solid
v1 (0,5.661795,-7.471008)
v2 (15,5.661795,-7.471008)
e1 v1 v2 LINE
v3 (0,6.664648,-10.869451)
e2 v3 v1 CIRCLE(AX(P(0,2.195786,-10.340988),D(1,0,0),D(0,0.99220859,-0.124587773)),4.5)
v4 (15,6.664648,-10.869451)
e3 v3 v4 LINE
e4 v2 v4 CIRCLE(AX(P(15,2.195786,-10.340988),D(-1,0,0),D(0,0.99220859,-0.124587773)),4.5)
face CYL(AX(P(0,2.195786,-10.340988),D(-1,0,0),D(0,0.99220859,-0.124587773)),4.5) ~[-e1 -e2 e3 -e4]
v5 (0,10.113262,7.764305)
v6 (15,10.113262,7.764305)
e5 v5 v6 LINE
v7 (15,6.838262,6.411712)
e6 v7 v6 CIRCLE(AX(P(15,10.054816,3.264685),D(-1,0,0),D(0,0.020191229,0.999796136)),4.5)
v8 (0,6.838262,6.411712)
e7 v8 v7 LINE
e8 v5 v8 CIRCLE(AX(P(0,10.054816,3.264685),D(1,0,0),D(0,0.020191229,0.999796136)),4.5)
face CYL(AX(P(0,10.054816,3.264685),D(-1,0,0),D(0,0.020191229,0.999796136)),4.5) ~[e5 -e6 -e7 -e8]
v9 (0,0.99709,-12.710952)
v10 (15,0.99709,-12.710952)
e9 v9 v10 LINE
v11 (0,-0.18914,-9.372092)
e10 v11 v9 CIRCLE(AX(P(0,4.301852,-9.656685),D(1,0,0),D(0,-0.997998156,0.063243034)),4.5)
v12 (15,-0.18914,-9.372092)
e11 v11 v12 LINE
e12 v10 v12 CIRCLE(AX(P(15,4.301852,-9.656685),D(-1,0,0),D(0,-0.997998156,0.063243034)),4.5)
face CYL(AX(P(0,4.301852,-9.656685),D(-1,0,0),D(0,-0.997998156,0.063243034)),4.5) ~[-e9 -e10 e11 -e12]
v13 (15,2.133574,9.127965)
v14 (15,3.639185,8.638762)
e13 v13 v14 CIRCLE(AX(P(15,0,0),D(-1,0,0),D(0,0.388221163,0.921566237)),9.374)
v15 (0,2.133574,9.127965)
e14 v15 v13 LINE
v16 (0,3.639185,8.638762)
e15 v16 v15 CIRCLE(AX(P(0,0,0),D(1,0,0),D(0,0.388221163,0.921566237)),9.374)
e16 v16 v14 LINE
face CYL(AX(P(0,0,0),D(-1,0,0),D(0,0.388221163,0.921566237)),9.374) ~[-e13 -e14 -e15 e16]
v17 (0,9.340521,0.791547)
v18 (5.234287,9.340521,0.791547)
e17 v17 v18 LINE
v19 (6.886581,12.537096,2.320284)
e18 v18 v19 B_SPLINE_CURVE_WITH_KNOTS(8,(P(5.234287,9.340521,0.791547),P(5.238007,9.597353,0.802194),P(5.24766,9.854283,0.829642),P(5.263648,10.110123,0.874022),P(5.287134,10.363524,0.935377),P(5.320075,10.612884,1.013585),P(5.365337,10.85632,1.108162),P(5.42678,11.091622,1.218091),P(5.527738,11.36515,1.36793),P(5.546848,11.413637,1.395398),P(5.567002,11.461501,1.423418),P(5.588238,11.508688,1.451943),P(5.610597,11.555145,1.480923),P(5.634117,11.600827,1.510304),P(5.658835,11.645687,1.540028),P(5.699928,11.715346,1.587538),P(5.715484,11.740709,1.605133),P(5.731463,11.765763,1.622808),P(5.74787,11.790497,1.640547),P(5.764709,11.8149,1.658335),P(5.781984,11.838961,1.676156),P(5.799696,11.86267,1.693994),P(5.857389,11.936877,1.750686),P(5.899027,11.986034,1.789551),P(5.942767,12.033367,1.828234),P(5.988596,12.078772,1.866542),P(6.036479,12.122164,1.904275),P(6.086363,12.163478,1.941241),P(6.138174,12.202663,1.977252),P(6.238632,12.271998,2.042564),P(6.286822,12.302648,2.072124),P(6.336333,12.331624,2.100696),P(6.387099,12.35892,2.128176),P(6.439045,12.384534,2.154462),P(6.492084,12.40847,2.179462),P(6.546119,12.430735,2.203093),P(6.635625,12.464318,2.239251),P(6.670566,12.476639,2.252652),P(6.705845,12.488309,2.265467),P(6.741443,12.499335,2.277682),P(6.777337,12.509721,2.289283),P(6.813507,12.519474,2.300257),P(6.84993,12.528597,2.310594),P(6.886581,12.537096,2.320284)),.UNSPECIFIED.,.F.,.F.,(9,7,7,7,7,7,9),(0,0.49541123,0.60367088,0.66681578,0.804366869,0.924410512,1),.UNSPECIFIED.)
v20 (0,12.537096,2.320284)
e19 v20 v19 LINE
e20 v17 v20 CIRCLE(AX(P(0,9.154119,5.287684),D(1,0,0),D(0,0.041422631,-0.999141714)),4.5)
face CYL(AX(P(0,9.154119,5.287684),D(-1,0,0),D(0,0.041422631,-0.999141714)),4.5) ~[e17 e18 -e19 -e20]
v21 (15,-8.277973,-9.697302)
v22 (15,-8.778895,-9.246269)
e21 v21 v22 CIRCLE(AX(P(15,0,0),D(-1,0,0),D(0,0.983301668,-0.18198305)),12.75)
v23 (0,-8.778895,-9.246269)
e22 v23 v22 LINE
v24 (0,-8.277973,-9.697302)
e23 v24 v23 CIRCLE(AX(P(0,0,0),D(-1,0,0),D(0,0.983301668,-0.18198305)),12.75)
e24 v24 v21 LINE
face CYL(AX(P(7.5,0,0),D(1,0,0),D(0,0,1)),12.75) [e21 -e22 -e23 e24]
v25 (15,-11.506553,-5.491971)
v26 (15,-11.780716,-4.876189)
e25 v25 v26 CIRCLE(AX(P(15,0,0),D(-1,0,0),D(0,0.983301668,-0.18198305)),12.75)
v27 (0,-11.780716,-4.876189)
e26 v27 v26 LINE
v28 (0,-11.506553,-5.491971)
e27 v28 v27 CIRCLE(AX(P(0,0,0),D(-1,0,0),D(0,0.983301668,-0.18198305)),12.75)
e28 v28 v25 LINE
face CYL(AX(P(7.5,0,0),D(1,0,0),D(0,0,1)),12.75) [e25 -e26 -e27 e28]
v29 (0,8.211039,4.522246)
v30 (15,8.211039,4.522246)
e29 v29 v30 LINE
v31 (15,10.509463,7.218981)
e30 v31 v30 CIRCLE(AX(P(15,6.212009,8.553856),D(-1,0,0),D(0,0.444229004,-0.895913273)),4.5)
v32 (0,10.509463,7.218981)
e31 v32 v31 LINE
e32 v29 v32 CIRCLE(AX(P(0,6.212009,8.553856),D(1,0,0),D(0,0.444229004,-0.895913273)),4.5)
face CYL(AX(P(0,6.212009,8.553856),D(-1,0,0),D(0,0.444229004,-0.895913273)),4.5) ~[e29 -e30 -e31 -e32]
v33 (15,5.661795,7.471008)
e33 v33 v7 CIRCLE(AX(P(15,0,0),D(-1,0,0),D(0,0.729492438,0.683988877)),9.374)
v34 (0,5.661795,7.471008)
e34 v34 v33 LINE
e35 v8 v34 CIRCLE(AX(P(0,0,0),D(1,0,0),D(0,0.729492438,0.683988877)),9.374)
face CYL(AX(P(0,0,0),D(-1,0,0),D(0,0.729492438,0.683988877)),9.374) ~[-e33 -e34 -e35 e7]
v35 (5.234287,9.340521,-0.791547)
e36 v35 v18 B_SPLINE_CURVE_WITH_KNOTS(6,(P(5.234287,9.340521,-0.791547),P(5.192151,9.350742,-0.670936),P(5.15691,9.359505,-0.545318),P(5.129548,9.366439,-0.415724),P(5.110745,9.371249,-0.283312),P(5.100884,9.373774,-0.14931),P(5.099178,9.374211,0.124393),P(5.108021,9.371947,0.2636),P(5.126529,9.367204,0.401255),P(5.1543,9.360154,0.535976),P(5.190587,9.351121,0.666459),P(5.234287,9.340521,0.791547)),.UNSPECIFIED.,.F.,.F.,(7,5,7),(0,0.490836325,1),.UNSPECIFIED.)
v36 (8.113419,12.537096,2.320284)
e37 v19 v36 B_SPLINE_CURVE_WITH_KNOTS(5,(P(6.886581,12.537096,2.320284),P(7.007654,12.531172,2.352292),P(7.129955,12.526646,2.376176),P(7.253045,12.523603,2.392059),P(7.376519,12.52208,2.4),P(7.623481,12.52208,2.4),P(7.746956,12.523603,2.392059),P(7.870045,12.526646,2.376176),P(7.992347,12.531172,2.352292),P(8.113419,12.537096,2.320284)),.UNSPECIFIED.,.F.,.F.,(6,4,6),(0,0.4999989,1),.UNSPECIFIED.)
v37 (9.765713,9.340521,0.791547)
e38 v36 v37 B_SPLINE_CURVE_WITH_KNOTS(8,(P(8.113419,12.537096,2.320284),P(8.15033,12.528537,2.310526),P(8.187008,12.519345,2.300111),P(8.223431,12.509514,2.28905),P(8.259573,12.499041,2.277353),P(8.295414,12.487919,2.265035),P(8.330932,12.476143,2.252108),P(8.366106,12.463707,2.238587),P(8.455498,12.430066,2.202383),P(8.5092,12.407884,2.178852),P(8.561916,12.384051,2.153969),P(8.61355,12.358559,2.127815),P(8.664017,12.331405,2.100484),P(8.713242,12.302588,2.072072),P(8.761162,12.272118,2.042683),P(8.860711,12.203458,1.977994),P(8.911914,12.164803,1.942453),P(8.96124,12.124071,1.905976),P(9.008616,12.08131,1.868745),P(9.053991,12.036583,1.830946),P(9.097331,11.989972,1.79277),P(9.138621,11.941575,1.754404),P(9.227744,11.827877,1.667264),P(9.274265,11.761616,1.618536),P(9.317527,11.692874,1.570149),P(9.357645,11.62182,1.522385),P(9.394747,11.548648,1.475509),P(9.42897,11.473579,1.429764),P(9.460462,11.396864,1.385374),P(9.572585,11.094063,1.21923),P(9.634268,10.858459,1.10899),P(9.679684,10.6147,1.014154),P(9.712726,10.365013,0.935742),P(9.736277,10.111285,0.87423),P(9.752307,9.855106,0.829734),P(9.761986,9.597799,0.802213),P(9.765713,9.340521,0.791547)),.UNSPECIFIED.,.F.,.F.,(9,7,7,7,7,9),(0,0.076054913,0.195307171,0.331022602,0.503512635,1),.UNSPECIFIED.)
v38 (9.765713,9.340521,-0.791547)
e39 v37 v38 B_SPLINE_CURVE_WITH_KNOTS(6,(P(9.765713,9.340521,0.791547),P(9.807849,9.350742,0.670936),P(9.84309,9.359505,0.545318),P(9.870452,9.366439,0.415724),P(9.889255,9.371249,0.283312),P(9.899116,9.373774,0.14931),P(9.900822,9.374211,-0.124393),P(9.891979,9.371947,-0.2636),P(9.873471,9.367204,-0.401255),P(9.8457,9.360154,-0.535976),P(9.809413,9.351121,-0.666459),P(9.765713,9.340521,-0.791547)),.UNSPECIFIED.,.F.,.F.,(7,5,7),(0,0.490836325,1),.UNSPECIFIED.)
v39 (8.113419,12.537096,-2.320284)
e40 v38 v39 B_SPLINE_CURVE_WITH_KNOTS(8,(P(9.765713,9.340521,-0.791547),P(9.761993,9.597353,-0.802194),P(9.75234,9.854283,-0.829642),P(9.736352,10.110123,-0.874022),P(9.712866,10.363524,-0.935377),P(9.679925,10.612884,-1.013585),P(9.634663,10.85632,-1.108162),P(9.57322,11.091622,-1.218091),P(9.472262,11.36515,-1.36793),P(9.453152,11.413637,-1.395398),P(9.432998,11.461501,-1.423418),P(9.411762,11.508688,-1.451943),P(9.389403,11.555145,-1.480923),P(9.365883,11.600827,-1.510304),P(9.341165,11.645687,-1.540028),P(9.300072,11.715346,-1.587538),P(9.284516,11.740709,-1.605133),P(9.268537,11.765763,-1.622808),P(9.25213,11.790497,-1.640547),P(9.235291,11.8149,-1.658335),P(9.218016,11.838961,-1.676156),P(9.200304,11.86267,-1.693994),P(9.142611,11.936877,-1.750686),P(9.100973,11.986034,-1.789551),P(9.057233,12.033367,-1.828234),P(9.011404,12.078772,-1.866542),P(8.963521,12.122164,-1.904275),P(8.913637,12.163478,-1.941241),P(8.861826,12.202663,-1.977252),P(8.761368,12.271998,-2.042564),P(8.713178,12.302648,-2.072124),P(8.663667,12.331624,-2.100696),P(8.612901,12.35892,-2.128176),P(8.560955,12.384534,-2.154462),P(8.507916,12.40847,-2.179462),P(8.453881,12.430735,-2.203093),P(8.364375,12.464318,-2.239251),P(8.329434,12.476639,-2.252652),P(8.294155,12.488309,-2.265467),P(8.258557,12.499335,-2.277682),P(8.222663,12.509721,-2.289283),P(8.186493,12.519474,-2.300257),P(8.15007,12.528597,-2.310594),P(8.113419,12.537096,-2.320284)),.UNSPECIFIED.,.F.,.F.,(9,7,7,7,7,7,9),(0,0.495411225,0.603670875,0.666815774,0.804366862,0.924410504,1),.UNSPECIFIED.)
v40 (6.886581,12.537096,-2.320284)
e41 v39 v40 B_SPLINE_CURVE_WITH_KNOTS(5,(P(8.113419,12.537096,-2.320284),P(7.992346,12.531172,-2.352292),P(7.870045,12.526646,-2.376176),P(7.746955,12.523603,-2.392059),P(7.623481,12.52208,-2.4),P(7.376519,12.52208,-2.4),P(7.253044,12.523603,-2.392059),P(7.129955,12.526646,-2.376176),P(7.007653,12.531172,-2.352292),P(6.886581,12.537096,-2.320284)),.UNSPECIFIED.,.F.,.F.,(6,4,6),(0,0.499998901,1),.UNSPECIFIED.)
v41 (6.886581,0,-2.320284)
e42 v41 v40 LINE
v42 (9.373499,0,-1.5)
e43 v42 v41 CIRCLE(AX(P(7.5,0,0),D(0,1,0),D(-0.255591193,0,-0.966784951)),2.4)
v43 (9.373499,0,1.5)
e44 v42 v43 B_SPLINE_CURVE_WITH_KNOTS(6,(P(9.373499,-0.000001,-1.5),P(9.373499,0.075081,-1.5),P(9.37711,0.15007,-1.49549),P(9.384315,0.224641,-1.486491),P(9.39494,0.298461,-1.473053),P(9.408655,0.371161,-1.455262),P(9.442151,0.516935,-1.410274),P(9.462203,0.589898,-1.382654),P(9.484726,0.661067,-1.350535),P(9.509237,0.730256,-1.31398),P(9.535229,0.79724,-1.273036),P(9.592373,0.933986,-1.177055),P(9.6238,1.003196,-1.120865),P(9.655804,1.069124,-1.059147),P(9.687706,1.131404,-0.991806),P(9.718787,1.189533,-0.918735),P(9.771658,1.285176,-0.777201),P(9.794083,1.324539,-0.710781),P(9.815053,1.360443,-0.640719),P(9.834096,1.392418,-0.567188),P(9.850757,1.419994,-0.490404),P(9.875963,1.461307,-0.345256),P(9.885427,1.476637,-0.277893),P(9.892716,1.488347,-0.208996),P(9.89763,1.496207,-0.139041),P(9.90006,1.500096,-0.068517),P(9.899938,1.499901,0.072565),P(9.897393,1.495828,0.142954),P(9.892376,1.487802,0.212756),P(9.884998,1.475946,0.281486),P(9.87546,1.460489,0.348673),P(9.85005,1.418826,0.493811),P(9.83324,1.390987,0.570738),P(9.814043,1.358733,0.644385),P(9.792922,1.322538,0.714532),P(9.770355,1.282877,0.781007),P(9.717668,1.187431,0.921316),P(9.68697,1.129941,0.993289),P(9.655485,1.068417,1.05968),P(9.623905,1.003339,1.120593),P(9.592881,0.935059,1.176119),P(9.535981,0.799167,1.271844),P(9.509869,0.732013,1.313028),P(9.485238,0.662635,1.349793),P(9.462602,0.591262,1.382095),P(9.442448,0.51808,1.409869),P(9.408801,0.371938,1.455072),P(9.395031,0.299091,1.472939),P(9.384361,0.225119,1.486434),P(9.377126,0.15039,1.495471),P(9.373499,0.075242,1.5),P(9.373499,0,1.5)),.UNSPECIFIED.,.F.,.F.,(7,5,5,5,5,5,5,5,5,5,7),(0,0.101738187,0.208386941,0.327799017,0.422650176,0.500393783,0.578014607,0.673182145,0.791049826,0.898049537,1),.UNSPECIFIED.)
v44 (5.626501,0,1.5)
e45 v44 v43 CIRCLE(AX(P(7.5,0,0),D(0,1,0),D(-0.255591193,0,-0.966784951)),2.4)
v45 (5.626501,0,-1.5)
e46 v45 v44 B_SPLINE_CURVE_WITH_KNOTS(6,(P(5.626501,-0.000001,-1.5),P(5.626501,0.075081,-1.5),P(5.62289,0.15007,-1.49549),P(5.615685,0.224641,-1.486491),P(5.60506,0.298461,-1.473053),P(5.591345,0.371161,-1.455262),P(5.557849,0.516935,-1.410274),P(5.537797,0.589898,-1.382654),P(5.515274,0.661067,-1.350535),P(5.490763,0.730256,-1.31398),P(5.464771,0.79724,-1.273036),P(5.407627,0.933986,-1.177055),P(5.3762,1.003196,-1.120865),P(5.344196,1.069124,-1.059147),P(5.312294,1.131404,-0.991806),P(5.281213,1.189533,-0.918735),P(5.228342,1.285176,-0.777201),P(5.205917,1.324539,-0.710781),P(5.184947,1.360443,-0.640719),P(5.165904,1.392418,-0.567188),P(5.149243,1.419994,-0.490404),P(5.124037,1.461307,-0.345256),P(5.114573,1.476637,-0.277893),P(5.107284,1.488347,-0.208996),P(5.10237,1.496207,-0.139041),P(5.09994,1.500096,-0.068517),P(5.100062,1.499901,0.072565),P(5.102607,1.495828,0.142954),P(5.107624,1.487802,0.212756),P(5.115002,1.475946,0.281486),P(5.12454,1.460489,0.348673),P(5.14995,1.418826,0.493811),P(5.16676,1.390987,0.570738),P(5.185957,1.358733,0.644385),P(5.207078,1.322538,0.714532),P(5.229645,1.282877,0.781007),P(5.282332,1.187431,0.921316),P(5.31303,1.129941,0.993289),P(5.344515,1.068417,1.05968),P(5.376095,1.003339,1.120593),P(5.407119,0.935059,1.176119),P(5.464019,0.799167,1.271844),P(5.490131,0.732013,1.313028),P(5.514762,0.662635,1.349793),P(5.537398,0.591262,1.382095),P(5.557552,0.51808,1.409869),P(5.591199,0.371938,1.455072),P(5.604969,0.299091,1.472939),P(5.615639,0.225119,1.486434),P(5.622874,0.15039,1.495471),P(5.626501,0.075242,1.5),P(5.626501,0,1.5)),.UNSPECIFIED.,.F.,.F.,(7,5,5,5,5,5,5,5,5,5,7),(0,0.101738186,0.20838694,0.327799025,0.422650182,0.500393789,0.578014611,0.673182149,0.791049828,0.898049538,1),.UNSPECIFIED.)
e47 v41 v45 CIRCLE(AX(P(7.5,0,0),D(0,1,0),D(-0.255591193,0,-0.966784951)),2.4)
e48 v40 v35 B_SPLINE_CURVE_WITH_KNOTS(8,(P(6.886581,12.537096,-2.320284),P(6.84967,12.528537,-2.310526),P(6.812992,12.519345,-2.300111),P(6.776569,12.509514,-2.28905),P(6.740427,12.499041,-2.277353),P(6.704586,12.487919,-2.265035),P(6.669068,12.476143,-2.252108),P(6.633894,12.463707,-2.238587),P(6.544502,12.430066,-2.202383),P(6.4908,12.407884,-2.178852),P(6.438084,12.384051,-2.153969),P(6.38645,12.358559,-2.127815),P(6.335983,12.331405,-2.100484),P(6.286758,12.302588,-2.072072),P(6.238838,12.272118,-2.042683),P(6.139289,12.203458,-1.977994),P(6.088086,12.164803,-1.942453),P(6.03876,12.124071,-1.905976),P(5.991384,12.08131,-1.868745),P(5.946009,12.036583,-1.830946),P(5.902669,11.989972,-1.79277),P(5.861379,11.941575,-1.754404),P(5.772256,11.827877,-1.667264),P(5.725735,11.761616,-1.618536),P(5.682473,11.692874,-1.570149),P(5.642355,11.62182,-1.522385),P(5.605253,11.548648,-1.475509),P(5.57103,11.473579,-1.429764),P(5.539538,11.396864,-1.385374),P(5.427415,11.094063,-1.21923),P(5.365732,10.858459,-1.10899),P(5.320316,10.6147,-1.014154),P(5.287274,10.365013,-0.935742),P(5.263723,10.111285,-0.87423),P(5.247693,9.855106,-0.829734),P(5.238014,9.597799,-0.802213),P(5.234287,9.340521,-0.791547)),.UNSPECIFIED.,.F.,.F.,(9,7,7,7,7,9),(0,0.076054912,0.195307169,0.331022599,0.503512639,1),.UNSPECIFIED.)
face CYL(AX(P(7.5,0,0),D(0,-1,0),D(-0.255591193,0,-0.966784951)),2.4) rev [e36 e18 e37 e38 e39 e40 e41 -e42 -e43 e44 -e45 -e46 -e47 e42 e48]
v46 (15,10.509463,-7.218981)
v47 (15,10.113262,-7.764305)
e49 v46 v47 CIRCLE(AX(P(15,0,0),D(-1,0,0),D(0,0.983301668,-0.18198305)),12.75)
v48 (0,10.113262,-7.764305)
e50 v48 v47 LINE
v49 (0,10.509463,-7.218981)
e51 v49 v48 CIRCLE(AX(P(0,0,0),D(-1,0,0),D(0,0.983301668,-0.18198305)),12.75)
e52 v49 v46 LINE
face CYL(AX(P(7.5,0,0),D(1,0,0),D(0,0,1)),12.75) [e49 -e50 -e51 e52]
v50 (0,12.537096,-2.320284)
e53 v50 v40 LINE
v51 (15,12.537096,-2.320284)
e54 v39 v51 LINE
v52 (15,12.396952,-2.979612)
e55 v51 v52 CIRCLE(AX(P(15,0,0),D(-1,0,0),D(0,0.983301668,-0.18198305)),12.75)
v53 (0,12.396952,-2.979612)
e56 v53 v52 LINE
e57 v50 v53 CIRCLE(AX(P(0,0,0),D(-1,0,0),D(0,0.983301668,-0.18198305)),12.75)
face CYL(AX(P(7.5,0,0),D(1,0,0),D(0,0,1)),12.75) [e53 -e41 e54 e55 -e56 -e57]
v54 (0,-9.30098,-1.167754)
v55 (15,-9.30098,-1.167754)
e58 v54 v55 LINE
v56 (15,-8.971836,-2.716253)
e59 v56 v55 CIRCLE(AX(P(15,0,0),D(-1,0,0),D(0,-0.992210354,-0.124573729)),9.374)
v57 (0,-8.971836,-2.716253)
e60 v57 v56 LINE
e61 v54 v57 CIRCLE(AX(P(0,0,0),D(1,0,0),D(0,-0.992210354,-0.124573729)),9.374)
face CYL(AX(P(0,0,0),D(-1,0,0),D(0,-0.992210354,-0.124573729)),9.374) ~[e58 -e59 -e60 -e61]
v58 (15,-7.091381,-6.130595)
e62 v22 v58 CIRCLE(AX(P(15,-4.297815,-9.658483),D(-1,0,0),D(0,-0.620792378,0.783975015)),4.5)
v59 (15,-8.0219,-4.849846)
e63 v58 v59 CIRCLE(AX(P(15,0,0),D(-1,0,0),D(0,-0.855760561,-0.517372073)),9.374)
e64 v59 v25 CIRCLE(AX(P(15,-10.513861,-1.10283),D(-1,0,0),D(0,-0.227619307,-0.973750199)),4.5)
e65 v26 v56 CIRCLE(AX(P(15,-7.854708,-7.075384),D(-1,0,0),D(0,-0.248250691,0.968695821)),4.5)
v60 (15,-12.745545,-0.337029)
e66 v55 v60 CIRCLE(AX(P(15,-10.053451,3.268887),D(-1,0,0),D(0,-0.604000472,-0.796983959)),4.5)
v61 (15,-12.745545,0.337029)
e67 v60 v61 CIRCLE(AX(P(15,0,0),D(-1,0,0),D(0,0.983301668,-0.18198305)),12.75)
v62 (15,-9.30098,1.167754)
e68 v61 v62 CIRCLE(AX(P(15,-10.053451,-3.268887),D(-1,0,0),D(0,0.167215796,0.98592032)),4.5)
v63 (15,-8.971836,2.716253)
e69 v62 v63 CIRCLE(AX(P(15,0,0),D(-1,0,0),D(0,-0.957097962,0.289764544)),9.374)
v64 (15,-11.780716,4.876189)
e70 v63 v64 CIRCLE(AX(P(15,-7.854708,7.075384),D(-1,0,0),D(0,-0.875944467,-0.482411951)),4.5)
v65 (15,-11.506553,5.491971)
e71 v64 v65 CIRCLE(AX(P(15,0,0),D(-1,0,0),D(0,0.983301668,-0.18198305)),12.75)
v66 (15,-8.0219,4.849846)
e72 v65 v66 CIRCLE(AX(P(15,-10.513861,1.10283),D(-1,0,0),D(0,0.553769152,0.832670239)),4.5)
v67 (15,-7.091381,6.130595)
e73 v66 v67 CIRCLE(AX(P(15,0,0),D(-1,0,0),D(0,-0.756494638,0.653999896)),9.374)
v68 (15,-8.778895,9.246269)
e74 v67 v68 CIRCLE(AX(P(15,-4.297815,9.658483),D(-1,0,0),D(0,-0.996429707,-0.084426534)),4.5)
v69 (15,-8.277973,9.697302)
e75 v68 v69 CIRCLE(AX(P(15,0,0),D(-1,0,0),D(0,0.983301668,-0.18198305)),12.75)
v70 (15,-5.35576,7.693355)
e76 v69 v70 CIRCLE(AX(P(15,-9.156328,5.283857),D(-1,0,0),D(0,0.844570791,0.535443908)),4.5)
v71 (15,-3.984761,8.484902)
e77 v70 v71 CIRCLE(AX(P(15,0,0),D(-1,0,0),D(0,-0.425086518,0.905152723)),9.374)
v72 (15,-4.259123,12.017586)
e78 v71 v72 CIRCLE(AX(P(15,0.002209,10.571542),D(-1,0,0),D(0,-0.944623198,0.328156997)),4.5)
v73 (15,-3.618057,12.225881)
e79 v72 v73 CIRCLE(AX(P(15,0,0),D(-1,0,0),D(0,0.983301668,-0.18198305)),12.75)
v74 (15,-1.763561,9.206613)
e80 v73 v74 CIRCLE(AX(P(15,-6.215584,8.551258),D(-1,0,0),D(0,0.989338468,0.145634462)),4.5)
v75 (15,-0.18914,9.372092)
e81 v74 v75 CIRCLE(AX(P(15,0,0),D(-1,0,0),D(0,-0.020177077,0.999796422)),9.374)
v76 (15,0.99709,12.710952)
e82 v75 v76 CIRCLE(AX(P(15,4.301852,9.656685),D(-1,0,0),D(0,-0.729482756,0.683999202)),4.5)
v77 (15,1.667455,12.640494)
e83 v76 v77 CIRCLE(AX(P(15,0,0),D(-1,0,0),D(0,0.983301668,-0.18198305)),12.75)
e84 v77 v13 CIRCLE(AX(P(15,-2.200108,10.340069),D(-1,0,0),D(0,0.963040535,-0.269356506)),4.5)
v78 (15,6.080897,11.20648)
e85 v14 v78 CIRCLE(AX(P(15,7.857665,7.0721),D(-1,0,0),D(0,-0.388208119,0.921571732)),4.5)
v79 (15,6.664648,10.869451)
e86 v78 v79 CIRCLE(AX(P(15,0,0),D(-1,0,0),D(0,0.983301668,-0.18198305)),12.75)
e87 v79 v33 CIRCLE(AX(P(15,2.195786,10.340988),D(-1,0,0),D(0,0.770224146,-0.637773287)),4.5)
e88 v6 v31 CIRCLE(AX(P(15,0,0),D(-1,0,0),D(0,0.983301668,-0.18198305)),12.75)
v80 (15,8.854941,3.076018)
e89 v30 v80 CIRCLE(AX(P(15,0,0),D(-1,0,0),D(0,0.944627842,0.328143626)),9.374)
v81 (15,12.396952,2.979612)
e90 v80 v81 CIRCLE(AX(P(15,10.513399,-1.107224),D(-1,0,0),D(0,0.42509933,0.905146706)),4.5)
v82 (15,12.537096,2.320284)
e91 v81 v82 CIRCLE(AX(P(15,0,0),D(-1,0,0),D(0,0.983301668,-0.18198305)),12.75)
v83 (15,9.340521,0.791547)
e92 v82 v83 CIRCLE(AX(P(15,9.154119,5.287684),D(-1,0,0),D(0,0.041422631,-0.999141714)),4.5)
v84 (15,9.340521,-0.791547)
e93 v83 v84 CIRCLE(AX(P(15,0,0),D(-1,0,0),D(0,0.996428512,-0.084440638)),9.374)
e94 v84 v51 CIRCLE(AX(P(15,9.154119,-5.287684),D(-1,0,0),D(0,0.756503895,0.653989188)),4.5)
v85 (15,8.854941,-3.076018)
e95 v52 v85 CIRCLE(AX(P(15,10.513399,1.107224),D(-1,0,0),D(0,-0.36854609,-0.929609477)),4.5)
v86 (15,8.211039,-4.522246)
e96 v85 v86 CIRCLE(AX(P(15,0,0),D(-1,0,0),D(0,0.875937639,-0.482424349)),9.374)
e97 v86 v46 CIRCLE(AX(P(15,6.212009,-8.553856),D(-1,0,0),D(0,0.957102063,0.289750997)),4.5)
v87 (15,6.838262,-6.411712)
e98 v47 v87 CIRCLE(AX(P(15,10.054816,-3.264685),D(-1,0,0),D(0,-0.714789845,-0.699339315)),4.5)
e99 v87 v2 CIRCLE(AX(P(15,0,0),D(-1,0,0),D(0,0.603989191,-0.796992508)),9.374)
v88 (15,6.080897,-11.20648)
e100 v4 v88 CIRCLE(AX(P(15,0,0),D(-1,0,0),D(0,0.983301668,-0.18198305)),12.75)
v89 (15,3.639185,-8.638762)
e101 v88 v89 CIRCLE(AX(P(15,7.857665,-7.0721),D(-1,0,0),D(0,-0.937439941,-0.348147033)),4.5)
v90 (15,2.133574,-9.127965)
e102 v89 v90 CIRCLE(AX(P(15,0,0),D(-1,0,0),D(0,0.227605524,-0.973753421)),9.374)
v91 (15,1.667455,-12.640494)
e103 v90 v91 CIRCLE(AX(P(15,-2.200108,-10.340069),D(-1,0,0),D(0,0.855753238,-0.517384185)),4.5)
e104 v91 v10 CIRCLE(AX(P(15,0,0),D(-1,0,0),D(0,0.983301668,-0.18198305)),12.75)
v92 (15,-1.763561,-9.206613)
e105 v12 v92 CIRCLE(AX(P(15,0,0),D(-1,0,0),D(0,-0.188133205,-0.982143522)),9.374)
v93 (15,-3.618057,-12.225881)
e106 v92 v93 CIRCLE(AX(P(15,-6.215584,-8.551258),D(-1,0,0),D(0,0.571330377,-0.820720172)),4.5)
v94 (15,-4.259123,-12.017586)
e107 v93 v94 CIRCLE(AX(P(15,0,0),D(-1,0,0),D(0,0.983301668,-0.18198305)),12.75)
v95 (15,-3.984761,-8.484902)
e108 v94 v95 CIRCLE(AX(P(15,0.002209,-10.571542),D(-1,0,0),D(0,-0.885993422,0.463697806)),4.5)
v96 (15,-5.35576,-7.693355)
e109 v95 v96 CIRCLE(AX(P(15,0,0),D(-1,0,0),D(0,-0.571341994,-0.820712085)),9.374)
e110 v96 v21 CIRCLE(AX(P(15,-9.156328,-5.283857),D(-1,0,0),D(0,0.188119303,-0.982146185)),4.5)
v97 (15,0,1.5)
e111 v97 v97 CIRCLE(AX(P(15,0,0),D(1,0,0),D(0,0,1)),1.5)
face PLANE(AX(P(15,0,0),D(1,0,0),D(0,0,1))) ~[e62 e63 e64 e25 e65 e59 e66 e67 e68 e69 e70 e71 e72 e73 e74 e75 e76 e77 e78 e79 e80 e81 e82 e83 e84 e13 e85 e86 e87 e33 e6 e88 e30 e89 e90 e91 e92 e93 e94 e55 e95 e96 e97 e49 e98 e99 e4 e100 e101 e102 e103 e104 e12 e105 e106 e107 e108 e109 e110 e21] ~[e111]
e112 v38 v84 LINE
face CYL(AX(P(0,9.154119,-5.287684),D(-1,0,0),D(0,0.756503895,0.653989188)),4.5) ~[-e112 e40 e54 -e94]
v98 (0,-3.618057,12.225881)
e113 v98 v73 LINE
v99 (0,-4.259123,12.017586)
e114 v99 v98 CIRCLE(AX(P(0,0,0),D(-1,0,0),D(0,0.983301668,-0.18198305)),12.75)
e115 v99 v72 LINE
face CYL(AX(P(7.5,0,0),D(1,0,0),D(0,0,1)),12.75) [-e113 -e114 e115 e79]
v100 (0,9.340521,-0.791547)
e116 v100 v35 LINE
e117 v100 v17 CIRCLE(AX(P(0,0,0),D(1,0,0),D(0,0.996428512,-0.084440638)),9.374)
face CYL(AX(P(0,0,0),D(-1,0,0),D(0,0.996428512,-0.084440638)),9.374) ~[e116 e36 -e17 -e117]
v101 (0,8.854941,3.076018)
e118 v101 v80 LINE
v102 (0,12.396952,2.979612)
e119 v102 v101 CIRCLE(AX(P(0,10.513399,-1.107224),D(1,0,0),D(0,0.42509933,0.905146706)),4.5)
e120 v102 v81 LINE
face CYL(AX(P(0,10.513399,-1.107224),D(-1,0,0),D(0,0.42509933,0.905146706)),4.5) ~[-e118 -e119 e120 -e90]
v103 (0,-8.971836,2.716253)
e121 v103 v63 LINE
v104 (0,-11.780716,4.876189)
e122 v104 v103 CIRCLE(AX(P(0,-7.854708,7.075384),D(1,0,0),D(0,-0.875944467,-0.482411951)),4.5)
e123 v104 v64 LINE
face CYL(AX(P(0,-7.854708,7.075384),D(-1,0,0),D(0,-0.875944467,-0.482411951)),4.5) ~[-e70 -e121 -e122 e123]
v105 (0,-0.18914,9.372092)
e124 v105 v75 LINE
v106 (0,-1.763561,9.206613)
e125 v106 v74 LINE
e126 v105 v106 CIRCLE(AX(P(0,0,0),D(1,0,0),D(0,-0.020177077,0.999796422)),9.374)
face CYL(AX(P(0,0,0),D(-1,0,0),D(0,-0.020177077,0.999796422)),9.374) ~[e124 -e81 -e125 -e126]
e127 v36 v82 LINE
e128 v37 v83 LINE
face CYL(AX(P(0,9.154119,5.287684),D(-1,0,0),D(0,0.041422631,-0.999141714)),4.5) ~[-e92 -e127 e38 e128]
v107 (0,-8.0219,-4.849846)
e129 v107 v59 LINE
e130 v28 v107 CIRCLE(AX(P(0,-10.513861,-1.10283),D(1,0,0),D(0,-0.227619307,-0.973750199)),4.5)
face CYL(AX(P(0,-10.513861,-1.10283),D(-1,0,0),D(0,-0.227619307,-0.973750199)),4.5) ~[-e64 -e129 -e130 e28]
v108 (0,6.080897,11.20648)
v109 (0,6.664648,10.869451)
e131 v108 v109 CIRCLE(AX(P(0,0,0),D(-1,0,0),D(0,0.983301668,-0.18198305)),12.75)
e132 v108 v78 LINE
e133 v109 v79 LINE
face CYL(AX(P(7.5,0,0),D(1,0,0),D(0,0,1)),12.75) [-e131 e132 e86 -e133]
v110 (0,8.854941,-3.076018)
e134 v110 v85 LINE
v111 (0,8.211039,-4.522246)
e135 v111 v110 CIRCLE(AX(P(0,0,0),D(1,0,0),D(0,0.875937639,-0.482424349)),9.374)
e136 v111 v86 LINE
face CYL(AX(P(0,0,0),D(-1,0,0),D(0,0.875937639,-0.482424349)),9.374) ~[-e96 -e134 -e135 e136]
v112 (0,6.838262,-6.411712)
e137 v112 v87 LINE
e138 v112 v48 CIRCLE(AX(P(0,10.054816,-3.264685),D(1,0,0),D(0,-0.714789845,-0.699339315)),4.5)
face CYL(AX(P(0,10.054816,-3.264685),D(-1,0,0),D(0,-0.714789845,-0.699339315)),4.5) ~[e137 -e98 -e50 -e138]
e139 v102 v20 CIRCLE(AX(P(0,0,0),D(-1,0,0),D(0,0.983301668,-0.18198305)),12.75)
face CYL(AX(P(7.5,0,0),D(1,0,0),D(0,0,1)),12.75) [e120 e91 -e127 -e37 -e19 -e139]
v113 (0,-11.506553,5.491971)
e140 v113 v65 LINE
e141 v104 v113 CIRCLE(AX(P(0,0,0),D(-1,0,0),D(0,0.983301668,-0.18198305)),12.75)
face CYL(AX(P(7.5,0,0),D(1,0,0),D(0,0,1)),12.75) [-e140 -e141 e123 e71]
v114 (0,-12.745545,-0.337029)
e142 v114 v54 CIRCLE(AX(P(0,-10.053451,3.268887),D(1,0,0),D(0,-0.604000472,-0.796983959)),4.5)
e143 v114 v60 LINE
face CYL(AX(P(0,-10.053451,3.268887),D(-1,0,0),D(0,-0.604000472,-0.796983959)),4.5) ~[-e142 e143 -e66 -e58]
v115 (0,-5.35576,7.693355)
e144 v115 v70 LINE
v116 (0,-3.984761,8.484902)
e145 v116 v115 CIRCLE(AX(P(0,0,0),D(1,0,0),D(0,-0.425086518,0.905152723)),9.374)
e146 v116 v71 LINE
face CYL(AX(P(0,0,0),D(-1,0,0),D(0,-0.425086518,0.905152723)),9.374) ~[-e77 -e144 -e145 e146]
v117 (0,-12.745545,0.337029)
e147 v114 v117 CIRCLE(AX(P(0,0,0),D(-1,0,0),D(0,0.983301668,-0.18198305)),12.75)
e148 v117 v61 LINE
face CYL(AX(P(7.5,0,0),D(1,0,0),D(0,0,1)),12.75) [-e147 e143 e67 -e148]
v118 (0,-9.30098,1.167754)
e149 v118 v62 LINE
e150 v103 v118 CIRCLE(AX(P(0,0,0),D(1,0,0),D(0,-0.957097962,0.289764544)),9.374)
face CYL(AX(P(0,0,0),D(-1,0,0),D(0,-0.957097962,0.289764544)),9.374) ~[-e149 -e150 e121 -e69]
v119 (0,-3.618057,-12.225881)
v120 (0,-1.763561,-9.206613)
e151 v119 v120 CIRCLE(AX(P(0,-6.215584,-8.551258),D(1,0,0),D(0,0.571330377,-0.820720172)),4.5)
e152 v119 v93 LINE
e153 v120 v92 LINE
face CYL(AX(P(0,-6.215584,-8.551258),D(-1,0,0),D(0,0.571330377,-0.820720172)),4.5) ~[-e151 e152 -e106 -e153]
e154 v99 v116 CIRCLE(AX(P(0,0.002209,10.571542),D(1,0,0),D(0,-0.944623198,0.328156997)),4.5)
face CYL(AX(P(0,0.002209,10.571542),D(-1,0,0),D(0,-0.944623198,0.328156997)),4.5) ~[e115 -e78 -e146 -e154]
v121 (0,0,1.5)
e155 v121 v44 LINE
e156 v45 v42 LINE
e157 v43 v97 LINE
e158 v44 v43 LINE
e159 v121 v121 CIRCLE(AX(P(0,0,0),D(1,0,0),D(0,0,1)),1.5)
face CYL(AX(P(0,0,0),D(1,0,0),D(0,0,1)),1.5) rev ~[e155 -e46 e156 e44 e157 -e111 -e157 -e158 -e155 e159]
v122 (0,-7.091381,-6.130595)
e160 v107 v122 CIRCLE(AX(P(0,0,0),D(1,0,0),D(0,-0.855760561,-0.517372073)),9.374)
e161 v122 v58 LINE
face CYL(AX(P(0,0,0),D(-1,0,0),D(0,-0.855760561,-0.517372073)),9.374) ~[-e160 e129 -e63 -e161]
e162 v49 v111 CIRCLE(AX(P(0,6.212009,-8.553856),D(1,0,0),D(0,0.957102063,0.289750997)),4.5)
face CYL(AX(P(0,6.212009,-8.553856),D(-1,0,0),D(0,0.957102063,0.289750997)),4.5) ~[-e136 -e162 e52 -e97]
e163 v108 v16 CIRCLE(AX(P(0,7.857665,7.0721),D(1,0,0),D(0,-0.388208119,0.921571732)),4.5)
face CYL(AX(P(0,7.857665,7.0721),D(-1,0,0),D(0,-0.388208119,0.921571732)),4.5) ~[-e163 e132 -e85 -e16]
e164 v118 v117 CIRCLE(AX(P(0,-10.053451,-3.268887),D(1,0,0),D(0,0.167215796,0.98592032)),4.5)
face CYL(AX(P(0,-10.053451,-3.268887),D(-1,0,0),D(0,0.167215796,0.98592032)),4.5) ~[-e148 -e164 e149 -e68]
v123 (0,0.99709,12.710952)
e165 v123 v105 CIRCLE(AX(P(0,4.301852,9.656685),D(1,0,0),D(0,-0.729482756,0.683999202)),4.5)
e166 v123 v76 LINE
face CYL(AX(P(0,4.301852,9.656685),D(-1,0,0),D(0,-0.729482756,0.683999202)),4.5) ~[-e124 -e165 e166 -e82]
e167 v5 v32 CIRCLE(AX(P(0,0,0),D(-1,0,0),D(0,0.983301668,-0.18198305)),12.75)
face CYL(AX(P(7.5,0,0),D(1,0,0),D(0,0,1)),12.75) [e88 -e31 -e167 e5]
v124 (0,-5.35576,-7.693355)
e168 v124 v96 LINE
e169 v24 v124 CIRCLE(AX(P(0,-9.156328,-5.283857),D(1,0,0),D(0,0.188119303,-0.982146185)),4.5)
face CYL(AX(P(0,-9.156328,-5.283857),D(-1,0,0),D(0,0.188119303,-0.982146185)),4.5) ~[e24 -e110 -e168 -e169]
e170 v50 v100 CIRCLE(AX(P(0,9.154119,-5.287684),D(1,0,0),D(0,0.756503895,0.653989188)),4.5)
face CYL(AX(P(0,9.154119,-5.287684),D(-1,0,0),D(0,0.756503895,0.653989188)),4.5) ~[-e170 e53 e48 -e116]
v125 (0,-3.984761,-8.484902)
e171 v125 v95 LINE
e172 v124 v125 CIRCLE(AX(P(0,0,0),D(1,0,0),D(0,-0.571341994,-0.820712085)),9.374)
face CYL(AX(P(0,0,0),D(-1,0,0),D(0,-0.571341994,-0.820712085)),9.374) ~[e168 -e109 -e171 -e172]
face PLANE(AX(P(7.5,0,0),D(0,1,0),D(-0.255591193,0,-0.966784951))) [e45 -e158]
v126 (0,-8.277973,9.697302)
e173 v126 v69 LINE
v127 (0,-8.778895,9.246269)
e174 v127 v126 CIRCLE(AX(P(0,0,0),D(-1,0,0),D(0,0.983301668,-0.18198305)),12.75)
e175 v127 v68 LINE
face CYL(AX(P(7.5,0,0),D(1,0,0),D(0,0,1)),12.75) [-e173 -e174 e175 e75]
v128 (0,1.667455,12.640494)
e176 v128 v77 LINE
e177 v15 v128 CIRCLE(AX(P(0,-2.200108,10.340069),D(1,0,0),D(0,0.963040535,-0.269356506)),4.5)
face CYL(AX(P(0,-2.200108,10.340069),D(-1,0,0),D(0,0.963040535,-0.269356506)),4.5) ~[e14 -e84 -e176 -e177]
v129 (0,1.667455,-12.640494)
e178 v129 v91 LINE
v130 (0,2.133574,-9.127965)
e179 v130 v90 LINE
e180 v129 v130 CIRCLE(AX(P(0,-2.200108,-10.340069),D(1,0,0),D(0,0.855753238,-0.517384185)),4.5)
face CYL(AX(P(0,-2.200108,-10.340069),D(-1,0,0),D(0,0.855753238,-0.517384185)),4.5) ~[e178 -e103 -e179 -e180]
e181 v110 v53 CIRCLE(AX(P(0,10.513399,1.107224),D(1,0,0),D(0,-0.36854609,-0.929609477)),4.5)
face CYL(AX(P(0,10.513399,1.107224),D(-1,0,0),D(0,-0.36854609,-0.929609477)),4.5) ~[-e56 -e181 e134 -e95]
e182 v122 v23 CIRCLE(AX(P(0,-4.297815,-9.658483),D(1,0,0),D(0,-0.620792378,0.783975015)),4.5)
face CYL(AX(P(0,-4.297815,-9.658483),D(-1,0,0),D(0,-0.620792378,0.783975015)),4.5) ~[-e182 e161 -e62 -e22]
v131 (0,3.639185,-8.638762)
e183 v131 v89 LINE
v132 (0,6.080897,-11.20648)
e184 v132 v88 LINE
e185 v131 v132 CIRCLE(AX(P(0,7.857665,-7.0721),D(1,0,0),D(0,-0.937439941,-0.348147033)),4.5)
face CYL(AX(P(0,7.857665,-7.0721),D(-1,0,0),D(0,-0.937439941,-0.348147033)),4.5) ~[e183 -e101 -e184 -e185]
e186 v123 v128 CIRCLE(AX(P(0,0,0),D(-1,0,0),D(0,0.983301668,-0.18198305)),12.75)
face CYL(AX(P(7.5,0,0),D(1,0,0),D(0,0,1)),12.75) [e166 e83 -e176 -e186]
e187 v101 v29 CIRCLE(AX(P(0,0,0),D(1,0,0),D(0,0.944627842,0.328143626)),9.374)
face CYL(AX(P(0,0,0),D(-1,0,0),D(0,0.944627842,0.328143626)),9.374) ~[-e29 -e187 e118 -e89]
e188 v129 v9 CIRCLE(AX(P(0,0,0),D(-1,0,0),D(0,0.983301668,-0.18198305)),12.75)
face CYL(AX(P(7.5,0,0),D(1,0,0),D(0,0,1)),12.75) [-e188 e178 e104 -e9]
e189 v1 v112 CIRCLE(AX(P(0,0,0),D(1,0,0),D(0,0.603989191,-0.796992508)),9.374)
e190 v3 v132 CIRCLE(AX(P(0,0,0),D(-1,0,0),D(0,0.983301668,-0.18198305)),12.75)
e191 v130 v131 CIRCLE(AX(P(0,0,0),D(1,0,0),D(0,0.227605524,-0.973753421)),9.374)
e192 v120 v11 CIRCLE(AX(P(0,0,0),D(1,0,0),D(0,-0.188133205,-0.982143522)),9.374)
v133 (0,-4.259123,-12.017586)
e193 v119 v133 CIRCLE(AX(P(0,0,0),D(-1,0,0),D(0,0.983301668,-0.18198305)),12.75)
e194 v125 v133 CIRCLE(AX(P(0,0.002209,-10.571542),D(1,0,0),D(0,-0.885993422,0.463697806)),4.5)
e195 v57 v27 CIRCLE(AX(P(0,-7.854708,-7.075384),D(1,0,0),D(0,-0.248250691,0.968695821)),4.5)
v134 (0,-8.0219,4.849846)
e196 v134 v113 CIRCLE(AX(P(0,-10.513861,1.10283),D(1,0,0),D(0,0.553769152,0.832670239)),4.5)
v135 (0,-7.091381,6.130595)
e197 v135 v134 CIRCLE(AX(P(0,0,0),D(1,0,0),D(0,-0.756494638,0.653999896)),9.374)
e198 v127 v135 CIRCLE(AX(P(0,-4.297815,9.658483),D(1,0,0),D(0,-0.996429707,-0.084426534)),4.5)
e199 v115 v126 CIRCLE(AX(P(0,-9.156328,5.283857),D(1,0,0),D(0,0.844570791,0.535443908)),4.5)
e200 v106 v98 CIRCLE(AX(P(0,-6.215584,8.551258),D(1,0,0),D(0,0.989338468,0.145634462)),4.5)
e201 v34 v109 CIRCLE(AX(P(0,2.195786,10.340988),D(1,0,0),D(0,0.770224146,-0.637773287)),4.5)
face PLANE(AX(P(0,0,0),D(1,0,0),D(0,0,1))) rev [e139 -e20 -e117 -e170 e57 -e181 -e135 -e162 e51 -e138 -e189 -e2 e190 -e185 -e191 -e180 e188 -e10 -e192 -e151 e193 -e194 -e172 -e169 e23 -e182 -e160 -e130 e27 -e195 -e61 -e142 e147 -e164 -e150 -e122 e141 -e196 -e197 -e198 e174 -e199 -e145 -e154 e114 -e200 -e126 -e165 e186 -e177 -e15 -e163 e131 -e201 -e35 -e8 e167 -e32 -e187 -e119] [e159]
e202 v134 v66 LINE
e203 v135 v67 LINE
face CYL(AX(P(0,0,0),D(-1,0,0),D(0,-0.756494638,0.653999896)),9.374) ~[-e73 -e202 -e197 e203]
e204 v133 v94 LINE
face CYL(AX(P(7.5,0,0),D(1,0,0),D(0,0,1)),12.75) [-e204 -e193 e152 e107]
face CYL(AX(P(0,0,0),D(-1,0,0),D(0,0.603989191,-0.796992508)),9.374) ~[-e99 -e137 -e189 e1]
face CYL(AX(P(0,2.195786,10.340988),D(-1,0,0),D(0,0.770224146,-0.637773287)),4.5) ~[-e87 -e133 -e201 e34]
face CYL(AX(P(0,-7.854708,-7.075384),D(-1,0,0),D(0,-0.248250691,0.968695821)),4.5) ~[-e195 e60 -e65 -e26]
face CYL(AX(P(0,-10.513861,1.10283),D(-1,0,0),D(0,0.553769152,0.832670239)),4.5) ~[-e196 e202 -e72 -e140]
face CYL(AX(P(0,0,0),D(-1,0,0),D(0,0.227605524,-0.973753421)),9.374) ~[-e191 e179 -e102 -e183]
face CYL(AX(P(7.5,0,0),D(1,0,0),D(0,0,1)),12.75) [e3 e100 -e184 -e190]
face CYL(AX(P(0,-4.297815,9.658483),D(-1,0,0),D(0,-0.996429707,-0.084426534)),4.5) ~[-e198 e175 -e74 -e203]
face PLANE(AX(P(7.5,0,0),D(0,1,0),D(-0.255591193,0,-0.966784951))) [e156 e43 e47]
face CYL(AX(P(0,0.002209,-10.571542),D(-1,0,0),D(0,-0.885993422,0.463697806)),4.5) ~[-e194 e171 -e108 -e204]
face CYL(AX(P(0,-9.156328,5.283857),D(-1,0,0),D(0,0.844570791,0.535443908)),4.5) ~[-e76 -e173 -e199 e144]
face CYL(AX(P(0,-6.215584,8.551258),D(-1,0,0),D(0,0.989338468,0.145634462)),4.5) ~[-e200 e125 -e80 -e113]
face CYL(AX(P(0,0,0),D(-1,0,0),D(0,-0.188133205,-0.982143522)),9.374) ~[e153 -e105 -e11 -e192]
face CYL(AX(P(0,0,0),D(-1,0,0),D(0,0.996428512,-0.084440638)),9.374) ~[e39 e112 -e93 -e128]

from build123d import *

# Parameters (mm, degrees)
BASPROSKE_W        = 15
BASPROSKE_H        = 12.75
TOOTHCUT_DEPTH     = 24.454743657
TEETHCUTS_COUNT    = 15
TEETHCUTS_ANGLE    = 336
BORSKE_R           = 1.5
BORE_DEPTH         = 50.0000508
SKETCH1_R          = 2.4
CUT_EXTRUDE1_DEPTH = 18


with BuildPart() as part:
    # BasProSke → Base-Revolve (revolve)
    with BuildSketch(Plane(origin=(0, 0, 0), x_dir=(1, 0, 0), z_dir=(0, 1, 0)), mode=Mode.PRIVATE) as base_revolve_sk:
        with Locations((7.5, 6.375)):
            Rectangle(BASPROSKE_W, BASPROSKE_H)
    revolve(base_revolve_sk.sketch.rotate(Axis((-10, 0, 0), (1, 0, 0)), 180), axis=Axis((-10, 0, 0), (1, 0, 0)))

    # TooCutSke → ToothCut (cut, through all)
    with BuildSketch(Plane(origin=(0, 0, 0), x_dir=(0, 0, -1), z_dir=(1, 0, 0))):
        with BuildLine():
            ThreePointArc((0.791546546, 9.340520867), (0, 9.374), (-0.791546546, 9.340520867))
            ThreePointArc((-0.791546546, 9.340520867), (-1.235070734, 11.110218102), (-2.344732916, 12.558386549))
            ThreePointArc((-2.344732916, 12.558386549), (0, 12.7754), (2.344732916, 12.558386549))
            ThreePointArc((2.344732916, 12.558386549), (1.235070734, 11.110218102), (0.791546546, 9.340520867))
        make_face()
    toothcut = extrude(amount=TOOTHCUT_DEPTH, mode=Mode.SUBTRACT)

    # TeethCuts: ToothCut ×15 about axis
    teethcuts_axis = Axis((-10, 0, 0), (1, 0, 0))
    for i in range(1, TEETHCUTS_COUNT):
        add(toothcut.rotate(teethcuts_axis, i * TEETHCUTS_ANGLE / (TEETHCUTS_COUNT - 1)), mode=Mode.SUBTRACT)

    # BorSke → Bore (cut, symmetric)
    with BuildSketch(Plane(origin=(0, 0, 0), x_dir=(0, 0, -1), z_dir=(1, 0, 0))):
        with Locations(Location((0, 0, 0), (0, 0, 180))):
            Circle(BORSKE_R)
    extrude(amount=BORE_DEPTH, both=True, mode=Mode.SUBTRACT)

    # Sketch1 → Cut-Extrude1 (cut)
    with BuildSketch(Plane(origin=(0, 0, 0), x_dir=(1, 0, 0), z_dir=(0, 1, 0))):
        with Locations(Location((7.5, 0, 0), (0, 0, 104.808618926))):
            Circle(SKETCH1_R)
    extrude(amount=CUT_EXTRUDE1_DEPTH, mode=Mode.SUBTRACT)


solid = part.part
